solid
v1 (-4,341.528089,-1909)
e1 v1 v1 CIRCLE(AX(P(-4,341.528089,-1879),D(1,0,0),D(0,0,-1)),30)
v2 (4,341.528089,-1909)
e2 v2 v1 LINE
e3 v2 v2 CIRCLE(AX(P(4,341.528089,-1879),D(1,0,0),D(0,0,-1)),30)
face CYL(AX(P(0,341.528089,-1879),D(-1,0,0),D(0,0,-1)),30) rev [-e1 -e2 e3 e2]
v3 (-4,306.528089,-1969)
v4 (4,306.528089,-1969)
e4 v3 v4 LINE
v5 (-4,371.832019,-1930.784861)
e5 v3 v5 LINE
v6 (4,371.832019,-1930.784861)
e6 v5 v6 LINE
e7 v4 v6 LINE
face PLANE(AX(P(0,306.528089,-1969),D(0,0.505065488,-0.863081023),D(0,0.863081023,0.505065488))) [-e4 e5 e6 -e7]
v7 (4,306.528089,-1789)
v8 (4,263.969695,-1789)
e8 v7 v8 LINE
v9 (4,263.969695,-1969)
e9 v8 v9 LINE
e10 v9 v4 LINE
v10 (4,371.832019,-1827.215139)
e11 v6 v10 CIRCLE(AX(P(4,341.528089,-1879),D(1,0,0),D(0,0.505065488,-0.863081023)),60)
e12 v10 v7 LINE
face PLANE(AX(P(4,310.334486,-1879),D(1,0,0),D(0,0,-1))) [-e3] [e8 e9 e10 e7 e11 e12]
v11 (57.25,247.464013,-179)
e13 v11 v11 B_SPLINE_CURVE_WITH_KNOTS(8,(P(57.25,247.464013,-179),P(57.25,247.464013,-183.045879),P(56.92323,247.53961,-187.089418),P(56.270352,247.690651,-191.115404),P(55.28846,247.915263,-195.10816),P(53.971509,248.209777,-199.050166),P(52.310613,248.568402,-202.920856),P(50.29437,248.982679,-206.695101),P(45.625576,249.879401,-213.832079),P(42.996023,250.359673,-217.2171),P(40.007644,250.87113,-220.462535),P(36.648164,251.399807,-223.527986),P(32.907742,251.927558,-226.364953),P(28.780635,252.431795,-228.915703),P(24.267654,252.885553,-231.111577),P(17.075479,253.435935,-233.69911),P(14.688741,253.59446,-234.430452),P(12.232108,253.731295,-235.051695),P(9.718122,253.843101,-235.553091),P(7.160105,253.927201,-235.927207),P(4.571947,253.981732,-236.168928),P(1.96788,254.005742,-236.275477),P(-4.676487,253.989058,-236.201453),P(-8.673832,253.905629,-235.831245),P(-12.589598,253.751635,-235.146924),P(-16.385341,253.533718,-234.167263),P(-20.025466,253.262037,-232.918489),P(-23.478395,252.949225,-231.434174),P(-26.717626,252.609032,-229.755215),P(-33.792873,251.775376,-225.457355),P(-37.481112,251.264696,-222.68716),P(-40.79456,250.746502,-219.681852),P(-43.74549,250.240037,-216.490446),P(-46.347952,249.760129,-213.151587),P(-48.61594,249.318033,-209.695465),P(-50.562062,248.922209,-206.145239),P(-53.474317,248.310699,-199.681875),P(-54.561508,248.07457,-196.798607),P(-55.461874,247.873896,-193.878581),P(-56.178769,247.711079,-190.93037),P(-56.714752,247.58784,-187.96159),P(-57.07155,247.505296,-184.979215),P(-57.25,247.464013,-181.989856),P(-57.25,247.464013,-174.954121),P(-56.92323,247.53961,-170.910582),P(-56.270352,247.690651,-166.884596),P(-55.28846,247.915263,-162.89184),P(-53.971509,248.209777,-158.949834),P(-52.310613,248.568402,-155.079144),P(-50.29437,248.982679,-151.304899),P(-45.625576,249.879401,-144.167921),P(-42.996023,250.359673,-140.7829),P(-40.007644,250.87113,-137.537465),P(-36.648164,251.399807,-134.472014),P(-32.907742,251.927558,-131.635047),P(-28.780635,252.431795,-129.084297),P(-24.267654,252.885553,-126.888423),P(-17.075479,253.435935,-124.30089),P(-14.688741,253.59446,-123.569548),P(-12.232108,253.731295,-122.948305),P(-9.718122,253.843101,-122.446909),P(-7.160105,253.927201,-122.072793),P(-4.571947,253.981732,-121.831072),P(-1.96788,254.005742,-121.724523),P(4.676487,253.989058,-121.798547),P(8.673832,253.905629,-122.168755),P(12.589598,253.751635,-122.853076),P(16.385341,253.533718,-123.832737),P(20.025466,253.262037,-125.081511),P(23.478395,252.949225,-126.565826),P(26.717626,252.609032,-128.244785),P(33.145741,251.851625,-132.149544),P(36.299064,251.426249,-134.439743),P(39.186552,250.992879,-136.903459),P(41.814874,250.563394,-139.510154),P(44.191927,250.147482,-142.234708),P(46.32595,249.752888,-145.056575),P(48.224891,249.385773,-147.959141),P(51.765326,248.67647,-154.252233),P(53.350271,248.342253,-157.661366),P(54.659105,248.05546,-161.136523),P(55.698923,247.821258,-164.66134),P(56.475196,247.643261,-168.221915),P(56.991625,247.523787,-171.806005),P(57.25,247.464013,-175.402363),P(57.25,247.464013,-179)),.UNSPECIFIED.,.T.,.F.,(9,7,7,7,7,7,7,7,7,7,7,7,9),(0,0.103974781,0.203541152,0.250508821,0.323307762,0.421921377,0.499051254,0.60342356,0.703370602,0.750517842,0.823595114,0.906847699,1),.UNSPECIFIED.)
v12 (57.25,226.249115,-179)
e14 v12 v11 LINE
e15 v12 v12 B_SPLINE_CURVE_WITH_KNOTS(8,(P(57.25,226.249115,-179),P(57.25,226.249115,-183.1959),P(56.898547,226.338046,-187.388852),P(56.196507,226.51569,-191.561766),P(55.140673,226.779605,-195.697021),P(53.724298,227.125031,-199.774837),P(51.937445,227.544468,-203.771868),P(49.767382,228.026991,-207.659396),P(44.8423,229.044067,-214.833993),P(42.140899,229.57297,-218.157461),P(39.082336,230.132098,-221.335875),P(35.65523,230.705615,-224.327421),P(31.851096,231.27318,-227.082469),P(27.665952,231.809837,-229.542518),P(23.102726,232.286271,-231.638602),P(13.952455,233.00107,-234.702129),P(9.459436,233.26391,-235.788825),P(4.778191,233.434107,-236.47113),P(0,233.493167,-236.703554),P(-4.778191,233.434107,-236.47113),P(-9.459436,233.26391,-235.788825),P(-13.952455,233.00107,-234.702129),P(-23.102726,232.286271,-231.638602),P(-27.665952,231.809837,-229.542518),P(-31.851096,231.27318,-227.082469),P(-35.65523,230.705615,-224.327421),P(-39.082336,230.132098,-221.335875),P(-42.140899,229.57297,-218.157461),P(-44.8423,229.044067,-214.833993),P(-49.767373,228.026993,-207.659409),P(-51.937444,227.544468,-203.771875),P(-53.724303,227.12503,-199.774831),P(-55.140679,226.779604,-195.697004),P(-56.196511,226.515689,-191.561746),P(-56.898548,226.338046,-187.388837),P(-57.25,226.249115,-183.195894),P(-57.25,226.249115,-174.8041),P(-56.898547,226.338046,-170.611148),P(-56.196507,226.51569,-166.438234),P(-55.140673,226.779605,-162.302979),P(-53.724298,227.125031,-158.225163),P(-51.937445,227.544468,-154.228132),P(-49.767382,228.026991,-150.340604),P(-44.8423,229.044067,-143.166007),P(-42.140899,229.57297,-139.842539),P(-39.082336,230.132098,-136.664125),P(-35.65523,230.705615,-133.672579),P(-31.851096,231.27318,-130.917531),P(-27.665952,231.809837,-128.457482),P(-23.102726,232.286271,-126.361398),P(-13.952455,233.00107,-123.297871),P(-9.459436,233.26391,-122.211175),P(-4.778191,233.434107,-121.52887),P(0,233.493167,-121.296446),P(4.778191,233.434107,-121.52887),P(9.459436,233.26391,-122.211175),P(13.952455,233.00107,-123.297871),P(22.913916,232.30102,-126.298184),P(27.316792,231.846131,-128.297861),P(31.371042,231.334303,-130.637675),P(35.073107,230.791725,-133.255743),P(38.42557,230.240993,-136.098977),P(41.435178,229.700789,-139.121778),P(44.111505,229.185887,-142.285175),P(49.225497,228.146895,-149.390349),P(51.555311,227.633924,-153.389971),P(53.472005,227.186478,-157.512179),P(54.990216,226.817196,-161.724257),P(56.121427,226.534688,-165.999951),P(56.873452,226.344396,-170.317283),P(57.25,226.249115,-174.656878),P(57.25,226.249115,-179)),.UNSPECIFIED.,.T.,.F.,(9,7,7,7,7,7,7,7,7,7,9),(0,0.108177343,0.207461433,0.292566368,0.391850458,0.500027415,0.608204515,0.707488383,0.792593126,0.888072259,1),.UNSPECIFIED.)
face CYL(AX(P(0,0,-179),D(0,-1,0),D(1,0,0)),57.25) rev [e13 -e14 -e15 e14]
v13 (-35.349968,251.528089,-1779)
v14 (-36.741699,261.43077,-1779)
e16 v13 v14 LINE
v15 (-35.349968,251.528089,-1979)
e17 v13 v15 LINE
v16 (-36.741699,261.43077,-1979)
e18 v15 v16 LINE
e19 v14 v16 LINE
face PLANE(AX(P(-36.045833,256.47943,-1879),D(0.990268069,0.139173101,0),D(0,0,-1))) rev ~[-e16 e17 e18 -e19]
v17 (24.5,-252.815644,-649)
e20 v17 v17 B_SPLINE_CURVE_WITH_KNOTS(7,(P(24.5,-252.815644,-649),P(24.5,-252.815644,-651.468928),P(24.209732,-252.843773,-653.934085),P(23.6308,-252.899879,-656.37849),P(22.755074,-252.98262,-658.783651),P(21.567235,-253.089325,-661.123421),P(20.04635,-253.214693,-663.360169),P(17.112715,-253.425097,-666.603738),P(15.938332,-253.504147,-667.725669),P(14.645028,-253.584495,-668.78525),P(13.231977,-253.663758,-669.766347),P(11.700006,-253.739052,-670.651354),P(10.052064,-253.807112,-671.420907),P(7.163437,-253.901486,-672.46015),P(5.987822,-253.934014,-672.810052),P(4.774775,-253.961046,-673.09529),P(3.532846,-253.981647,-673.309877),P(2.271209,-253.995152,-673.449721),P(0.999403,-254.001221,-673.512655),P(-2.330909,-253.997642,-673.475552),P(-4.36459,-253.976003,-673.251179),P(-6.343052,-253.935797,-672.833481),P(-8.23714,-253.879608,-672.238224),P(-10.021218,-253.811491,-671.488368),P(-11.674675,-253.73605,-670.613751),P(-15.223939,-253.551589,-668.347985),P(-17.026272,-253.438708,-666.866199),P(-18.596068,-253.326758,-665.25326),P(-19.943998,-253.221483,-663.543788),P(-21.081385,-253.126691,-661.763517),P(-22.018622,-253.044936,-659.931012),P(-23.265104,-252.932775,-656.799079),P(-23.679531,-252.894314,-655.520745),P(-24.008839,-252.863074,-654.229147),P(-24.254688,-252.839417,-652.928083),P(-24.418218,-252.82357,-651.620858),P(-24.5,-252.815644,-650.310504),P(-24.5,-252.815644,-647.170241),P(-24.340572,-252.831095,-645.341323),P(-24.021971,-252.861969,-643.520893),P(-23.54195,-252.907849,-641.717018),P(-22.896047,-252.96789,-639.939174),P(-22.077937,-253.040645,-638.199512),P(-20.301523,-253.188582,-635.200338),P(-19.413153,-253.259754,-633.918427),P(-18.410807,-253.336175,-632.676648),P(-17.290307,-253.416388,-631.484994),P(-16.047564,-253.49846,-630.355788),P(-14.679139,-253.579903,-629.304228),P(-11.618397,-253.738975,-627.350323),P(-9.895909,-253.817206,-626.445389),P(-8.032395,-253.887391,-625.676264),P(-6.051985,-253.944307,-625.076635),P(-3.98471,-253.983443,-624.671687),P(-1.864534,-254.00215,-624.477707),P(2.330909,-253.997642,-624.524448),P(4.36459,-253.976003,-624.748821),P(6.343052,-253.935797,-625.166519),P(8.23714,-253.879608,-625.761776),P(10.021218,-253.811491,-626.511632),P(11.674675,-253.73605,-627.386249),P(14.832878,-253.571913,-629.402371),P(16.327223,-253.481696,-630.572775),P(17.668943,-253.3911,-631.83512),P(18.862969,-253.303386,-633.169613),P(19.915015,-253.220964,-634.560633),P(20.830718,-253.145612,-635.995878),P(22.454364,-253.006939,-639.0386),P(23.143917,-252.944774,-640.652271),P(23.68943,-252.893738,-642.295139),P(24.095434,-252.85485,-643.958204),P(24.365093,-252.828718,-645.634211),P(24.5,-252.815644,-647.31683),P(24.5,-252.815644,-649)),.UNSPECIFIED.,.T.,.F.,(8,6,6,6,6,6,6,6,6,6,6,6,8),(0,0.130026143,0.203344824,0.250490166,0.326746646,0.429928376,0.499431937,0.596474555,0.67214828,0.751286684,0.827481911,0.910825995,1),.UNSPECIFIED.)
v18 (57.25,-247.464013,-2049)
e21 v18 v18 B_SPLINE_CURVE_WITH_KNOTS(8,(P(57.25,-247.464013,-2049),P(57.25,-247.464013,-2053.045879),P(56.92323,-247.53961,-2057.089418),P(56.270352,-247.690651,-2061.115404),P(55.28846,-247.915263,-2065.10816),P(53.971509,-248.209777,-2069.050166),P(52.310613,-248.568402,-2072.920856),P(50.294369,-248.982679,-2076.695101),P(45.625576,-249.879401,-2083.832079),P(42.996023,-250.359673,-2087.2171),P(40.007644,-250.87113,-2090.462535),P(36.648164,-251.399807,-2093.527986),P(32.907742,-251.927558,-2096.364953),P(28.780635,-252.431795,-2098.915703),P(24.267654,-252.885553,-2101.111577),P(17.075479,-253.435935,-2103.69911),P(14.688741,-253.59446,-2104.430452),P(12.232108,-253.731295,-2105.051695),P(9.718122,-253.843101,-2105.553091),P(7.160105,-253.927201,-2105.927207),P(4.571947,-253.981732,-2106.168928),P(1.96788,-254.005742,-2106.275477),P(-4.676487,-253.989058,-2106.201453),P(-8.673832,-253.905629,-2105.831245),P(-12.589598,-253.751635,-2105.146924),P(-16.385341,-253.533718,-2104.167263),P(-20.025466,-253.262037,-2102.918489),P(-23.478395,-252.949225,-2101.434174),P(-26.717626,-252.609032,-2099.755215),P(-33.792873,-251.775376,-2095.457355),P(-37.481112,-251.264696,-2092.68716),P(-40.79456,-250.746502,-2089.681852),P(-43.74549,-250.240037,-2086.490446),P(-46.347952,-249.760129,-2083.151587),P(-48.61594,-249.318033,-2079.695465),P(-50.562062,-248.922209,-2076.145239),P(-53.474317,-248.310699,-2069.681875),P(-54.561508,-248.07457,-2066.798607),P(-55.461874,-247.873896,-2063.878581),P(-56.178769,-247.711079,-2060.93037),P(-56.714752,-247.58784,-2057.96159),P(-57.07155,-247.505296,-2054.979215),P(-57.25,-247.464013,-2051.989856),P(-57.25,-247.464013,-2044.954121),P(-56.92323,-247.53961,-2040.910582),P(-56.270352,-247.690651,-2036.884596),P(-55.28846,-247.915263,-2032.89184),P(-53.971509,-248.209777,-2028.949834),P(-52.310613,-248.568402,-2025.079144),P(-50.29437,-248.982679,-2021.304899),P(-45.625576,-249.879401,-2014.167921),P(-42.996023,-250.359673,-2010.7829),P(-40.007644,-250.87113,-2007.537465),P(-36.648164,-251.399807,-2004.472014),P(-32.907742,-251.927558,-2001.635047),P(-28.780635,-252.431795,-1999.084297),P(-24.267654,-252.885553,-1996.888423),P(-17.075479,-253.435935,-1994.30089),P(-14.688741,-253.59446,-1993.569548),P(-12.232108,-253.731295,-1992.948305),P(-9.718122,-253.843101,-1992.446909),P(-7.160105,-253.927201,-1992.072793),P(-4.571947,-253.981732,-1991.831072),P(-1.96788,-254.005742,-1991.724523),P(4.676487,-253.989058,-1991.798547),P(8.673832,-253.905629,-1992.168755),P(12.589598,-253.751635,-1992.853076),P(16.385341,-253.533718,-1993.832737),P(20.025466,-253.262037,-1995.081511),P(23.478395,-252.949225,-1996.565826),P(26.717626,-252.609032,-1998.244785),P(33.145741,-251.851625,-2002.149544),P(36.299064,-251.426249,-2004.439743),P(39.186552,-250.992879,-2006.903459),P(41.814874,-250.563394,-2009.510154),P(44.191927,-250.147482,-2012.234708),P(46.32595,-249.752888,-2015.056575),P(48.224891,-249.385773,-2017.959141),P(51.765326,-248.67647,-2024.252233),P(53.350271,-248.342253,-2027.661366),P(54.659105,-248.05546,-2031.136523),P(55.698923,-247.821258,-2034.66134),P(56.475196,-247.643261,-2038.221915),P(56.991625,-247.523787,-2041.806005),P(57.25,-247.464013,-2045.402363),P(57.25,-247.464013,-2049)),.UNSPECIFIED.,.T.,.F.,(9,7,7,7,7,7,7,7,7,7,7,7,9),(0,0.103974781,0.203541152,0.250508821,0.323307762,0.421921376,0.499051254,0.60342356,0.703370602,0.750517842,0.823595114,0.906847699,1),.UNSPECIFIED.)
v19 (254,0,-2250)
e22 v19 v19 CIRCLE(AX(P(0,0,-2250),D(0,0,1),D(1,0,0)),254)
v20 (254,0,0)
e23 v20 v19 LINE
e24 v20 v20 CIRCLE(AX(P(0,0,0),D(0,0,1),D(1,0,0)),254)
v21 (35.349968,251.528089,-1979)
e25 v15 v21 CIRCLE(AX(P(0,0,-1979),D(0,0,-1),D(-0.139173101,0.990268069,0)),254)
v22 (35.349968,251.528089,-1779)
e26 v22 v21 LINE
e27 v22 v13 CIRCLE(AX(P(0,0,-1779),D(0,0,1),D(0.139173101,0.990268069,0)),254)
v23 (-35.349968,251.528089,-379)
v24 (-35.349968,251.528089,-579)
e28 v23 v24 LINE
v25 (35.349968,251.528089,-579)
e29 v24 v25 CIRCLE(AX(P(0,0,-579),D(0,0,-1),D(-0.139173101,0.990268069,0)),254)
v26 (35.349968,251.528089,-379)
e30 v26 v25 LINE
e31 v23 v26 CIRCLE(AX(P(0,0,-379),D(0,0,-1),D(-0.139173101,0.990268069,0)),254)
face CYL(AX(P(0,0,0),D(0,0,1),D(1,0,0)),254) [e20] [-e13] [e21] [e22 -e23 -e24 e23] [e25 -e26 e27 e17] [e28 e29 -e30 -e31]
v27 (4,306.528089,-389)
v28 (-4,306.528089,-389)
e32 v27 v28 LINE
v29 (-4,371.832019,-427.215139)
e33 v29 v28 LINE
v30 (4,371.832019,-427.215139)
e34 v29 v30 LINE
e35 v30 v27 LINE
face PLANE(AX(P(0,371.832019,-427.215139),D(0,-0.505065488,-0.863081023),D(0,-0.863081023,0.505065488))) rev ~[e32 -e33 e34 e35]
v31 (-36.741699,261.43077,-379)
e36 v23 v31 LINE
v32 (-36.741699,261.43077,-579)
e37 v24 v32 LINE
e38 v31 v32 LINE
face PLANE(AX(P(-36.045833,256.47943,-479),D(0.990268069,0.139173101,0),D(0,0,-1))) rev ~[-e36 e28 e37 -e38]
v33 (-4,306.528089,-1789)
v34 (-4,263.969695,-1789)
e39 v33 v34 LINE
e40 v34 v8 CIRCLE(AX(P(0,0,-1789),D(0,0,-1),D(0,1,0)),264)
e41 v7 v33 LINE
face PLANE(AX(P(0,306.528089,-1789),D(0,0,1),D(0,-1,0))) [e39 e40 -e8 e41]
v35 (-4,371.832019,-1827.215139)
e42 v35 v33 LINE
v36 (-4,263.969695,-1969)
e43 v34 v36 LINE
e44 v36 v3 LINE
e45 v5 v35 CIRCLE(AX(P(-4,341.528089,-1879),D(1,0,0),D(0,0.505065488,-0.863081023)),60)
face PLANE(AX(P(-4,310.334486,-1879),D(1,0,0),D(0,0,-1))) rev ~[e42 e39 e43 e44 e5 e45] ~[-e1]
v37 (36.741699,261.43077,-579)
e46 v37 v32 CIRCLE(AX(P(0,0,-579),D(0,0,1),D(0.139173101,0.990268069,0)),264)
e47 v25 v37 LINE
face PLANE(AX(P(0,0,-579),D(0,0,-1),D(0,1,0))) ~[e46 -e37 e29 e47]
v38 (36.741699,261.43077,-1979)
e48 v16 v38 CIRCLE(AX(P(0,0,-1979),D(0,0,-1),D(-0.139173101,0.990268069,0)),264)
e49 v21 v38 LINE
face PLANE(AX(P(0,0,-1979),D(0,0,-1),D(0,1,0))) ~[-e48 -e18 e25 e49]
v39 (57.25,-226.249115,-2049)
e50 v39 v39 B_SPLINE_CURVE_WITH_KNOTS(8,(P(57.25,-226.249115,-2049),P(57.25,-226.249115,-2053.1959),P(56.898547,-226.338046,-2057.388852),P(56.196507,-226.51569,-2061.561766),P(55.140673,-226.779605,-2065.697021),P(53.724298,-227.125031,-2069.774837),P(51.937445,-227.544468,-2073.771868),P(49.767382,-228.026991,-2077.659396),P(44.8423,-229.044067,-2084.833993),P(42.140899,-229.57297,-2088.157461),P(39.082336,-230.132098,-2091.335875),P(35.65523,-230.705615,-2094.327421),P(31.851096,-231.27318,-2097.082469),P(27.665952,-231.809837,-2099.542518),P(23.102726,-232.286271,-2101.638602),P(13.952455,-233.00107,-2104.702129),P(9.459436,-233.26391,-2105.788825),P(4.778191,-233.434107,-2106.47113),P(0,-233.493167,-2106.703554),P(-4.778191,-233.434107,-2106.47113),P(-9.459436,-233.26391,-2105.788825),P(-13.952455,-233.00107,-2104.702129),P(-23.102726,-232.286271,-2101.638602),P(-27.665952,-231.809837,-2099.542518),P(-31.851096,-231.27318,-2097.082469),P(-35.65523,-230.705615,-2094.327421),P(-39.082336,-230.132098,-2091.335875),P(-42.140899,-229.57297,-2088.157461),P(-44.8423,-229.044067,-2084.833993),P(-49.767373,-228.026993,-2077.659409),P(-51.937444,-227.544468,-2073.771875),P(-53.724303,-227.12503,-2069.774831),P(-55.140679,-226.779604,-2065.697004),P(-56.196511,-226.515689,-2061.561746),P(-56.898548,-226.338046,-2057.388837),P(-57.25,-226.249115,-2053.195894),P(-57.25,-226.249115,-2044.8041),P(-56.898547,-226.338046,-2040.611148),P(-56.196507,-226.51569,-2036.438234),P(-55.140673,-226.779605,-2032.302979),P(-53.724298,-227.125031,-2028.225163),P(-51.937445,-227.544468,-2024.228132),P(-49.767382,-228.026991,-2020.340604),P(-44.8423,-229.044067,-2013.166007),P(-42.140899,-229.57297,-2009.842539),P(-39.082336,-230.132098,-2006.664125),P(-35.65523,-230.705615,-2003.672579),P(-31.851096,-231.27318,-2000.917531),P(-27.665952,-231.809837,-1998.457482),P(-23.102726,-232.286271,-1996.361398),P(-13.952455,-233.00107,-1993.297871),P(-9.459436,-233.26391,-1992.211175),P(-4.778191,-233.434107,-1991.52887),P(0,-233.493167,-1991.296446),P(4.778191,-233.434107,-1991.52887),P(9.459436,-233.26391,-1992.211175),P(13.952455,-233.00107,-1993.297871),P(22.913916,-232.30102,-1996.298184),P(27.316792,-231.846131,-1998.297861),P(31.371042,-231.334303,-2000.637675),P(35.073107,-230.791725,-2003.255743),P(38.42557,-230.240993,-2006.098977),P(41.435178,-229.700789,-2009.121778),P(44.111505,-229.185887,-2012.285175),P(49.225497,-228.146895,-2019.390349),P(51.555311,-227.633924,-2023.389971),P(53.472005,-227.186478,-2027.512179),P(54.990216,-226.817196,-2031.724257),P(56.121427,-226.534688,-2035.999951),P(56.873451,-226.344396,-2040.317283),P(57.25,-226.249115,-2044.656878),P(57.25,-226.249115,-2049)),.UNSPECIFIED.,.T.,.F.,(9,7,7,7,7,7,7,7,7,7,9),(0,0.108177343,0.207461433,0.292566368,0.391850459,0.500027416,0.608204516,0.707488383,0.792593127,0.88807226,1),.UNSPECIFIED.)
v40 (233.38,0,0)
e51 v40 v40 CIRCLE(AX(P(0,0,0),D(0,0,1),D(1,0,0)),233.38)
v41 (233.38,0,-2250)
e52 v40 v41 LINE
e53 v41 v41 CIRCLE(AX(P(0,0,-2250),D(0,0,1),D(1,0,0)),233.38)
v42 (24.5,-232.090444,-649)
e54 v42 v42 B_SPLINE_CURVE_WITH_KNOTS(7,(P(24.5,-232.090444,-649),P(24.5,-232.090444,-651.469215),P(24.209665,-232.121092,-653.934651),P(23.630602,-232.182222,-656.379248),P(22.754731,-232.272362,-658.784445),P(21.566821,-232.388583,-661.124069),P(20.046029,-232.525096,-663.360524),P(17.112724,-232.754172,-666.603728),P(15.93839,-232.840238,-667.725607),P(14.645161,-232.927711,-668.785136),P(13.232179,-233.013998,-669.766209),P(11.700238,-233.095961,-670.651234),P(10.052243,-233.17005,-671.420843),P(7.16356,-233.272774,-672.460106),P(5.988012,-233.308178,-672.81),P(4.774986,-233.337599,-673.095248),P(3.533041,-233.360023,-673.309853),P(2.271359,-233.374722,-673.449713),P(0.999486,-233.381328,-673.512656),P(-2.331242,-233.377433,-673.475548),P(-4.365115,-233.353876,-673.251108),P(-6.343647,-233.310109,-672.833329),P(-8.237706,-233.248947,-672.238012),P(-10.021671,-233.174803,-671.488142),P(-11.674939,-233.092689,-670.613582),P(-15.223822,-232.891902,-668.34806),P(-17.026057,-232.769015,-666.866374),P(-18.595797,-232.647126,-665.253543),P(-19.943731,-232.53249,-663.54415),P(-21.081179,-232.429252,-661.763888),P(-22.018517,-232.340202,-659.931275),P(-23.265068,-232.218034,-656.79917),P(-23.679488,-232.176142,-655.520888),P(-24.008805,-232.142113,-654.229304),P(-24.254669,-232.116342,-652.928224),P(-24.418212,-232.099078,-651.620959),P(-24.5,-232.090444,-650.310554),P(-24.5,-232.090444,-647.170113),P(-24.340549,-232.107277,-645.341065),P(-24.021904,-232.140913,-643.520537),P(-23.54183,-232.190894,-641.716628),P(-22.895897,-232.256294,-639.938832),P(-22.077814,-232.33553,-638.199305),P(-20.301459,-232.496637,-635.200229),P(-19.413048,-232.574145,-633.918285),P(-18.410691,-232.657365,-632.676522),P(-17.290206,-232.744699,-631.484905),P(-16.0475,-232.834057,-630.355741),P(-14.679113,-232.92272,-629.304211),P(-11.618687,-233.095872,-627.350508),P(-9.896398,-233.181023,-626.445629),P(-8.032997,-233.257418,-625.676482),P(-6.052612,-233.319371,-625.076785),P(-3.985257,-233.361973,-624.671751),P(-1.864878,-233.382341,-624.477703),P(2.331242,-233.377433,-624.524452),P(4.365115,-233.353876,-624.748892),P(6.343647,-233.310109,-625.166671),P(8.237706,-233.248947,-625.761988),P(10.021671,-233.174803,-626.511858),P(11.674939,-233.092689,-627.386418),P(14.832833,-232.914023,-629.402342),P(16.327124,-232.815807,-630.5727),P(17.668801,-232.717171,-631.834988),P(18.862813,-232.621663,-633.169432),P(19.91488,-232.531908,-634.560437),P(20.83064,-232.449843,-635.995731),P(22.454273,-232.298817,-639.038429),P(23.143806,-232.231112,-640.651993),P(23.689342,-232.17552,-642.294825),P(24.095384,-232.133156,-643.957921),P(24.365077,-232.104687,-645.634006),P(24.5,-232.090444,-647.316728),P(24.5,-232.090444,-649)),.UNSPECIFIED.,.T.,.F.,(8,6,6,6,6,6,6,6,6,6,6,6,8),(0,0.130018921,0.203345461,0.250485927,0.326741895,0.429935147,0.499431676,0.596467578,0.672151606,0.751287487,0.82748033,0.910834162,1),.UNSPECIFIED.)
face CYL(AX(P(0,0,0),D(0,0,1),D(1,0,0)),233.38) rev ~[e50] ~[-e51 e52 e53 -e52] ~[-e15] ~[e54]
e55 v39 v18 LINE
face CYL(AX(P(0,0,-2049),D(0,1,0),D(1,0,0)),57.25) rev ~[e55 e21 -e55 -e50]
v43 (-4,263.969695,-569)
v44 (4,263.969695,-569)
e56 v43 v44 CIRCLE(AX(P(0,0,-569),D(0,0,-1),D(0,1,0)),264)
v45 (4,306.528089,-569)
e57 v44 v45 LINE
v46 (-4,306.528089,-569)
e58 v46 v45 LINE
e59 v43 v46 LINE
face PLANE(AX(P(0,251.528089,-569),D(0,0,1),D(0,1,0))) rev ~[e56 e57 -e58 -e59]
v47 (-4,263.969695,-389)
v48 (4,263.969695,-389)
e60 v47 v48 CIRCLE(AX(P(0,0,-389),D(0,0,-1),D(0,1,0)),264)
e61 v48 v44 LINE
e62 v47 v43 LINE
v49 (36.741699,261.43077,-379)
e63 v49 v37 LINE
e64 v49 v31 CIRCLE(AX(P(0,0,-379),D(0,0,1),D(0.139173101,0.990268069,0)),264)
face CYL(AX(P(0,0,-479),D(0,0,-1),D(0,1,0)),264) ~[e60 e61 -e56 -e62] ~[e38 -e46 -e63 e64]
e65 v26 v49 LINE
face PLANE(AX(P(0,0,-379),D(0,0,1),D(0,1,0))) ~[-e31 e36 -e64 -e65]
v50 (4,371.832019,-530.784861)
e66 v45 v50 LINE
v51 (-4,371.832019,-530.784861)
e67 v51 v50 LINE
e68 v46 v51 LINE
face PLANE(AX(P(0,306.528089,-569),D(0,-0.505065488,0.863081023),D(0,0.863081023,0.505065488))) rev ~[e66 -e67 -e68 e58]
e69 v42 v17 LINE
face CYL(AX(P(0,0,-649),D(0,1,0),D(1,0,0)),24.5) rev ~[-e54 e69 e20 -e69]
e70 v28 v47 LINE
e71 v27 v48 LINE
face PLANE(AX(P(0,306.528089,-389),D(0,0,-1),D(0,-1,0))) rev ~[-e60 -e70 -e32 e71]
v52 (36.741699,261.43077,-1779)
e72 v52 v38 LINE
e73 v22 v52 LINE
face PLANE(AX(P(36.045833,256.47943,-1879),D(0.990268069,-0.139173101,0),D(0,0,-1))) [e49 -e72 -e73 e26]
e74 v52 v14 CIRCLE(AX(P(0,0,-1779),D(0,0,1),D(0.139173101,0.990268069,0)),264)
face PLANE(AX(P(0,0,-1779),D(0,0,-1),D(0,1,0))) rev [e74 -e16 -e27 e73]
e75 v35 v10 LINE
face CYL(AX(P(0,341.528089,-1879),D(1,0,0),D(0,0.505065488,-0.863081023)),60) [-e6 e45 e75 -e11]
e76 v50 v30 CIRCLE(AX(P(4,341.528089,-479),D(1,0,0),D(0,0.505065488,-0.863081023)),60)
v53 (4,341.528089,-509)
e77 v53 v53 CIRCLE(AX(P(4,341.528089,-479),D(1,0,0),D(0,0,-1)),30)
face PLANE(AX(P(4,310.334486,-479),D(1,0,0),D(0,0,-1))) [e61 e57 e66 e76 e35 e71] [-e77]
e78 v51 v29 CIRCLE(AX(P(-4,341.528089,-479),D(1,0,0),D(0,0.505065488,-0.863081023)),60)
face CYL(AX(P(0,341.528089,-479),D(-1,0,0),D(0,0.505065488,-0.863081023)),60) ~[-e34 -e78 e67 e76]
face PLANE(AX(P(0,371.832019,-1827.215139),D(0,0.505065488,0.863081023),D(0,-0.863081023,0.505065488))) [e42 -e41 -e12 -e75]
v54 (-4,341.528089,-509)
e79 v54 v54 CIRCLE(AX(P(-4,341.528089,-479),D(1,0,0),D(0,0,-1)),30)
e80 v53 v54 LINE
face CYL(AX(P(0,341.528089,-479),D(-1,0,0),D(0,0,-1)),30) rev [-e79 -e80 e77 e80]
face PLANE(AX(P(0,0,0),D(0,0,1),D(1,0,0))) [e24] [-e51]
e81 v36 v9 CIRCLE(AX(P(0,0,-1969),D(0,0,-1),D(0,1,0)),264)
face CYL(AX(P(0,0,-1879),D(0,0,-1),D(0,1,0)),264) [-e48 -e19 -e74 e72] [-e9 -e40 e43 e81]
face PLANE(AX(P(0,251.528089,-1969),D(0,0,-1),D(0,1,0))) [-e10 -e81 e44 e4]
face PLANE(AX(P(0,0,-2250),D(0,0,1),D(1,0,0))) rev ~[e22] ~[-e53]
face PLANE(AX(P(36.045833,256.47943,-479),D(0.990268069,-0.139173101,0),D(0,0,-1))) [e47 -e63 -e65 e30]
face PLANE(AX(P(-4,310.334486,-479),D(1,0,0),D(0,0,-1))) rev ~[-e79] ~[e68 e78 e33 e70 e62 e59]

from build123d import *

# Parameters (mm, degrees)
SKETCH1_R           = 254
SKETCH1_R_2         = 233.38
BOSS_EXTRUDE1_DEPTH = 2250
CUT_EXTRUDE1_REACH  = 256
SKETCH2_R           = 57.25
CUT_EXTRUDE2_REACH  = 256
SKETCH3_R           = 57.25
CUT_EXTRUDE3_REACH  = 256
SKETCH4_R           = 24.5
SKETCH5_W           = 200
SKETCH5_H           = 10
REVOLVE1_ANGLE      = 16
SKETCH6_R           = 30
BOSS_EXTRUDE2_DEPTH = 4


with BuildPart() as part:
    # Sketch1 → Boss-Extrude1 (new body)
    with BuildSketch(Plane.XY):
        Circle(SKETCH1_R)
        Circle(SKETCH1_R_2, mode=Mode.SUBTRACT)
    extrude(amount=-BOSS_EXTRUDE1_DEPTH)

    # Sketch2 → Cut-Extrude1 (cut, up to next)
    with BuildSketch(Plane(origin=(0, 0, 0), x_dir=(1, 0, 0), z_dir=(0, 1, 0)), mode=Mode.PRIVATE) as cut_extrude1_sk1:
        with Locations((0, 179)):
            Circle(SKETCH2_R)
    cut_extrude1_tool1 = extrude(cut_extrude1_sk1.sketch, amount=CUT_EXTRUDE1_REACH, mode=Mode.PRIVATE) & part.part
    add(cut_extrude1_tool1.solids().sort_by_distance((0, 0, -179))[0], mode=Mode.SUBTRACT)

    # Sketch3 → Cut-Extrude2 (cut, up to next)
    with BuildSketch(Plane(origin=(0, 0, 0), x_dir=(1, 0, 0), z_dir=(0, 1, 0)), mode=Mode.PRIVATE) as cut_extrude2_sk1:
        with Locations((0, 2049)):
            Circle(SKETCH3_R)
    cut_extrude2_tool1 = extrude(cut_extrude2_sk1.sketch, amount=-CUT_EXTRUDE2_REACH, mode=Mode.PRIVATE) & part.part
    add(cut_extrude2_tool1.solids().sort_by_distance((0, 0, -2049))[0], mode=Mode.SUBTRACT)

    # Sketch4 → Cut-Extrude3 (cut, up to next)
    with BuildSketch(Plane(origin=(0, 0, 0), x_dir=(1, 0, 0), z_dir=(0, 1, 0)), mode=Mode.PRIVATE) as cut_extrude3_sk1:
        with Locations((0, 649)):
            Circle(SKETCH4_R)
    cut_extrude3_tool1 = extrude(cut_extrude3_sk1.sketch, amount=-CUT_EXTRUDE3_REACH, mode=Mode.PRIVATE) & part.part
    add(cut_extrude3_tool1.solids().sort_by_distance((0, 0, -649))[0], mode=Mode.SUBTRACT)

    # Sketch5 → Revolve1 (revolve, symmetric)
    with BuildSketch(Plane(origin=(0, 0, 0), x_dir=(0, 0, -1), z_dir=(1, 0, 0))) as revolve1_sk:
        with Locations((479, 259)):
            Rectangle(SKETCH5_W, SKETCH5_H)
        with Locations((1879, 259)):
            Rectangle(SKETCH5_W, SKETCH5_H)
    revolve(axis=Axis((0, 0, 0), (0, 0, -1)), revolution_arc=REVOLVE1_ANGLE / 2)
    revolve(revolve1_sk.sketch, axis=Axis((0, 0, 0), (0, 0, 1)), revolution_arc=REVOLVE1_ANGLE / 2)

    # Sketch6 → Boss-Extrude2 (add, symmetric)
    with BuildSketch(Plane(origin=(0, 0, 0), x_dir=(0, 0, -1), z_dir=(1, 0, 0))):
        with BuildLine():
            Line((479, 251.52808946), (569, 251.52808946))
            Line((569, 251.52808946), (569, 306.52808946))
            Line((569, 306.52808946), (530.784861392, 371.832018754))
            ThreePointArc((530.784861392, 371.832018754), (479, 401.52808946), (427.215138608, 371.832018754))
            Line((427.215138608, 371.832018754), (389, 306.52808946))
            Line((389, 306.52808946), (389, 251.52808946))
            Line((389, 251.52808946), (479, 251.52808946))
        make_face()
        with Locations((479, 341.52808946)):
            Circle(SKETCH6_R, mode=Mode.SUBTRACT)
        with BuildLine():
            Line((1969, 251.52808946), (1969, 306.52808946))
            Line((1969, 306.52808946), (1930.784861392, 371.832018754))
            ThreePointArc((1930.784861392, 371.832018754), (1879, 401.52808946), (1827.215138608, 371.832018754))
            Line((1827.215138608, 371.832018754), (1789, 306.52808946))
            Line((1789, 306.52808946), (1789, 251.52808946))
            Line((1789, 251.52808946), (1879, 251.52808946))
            Line((1879, 251.52808946), (1969, 251.52808946))
        make_face()
        with Locations((1879, 341.52808946)):
            Circle(SKETCH6_R, mode=Mode.SUBTRACT)
    extrude(amount=BOSS_EXTRUDE2_DEPTH, both=True)


solid = part.part
